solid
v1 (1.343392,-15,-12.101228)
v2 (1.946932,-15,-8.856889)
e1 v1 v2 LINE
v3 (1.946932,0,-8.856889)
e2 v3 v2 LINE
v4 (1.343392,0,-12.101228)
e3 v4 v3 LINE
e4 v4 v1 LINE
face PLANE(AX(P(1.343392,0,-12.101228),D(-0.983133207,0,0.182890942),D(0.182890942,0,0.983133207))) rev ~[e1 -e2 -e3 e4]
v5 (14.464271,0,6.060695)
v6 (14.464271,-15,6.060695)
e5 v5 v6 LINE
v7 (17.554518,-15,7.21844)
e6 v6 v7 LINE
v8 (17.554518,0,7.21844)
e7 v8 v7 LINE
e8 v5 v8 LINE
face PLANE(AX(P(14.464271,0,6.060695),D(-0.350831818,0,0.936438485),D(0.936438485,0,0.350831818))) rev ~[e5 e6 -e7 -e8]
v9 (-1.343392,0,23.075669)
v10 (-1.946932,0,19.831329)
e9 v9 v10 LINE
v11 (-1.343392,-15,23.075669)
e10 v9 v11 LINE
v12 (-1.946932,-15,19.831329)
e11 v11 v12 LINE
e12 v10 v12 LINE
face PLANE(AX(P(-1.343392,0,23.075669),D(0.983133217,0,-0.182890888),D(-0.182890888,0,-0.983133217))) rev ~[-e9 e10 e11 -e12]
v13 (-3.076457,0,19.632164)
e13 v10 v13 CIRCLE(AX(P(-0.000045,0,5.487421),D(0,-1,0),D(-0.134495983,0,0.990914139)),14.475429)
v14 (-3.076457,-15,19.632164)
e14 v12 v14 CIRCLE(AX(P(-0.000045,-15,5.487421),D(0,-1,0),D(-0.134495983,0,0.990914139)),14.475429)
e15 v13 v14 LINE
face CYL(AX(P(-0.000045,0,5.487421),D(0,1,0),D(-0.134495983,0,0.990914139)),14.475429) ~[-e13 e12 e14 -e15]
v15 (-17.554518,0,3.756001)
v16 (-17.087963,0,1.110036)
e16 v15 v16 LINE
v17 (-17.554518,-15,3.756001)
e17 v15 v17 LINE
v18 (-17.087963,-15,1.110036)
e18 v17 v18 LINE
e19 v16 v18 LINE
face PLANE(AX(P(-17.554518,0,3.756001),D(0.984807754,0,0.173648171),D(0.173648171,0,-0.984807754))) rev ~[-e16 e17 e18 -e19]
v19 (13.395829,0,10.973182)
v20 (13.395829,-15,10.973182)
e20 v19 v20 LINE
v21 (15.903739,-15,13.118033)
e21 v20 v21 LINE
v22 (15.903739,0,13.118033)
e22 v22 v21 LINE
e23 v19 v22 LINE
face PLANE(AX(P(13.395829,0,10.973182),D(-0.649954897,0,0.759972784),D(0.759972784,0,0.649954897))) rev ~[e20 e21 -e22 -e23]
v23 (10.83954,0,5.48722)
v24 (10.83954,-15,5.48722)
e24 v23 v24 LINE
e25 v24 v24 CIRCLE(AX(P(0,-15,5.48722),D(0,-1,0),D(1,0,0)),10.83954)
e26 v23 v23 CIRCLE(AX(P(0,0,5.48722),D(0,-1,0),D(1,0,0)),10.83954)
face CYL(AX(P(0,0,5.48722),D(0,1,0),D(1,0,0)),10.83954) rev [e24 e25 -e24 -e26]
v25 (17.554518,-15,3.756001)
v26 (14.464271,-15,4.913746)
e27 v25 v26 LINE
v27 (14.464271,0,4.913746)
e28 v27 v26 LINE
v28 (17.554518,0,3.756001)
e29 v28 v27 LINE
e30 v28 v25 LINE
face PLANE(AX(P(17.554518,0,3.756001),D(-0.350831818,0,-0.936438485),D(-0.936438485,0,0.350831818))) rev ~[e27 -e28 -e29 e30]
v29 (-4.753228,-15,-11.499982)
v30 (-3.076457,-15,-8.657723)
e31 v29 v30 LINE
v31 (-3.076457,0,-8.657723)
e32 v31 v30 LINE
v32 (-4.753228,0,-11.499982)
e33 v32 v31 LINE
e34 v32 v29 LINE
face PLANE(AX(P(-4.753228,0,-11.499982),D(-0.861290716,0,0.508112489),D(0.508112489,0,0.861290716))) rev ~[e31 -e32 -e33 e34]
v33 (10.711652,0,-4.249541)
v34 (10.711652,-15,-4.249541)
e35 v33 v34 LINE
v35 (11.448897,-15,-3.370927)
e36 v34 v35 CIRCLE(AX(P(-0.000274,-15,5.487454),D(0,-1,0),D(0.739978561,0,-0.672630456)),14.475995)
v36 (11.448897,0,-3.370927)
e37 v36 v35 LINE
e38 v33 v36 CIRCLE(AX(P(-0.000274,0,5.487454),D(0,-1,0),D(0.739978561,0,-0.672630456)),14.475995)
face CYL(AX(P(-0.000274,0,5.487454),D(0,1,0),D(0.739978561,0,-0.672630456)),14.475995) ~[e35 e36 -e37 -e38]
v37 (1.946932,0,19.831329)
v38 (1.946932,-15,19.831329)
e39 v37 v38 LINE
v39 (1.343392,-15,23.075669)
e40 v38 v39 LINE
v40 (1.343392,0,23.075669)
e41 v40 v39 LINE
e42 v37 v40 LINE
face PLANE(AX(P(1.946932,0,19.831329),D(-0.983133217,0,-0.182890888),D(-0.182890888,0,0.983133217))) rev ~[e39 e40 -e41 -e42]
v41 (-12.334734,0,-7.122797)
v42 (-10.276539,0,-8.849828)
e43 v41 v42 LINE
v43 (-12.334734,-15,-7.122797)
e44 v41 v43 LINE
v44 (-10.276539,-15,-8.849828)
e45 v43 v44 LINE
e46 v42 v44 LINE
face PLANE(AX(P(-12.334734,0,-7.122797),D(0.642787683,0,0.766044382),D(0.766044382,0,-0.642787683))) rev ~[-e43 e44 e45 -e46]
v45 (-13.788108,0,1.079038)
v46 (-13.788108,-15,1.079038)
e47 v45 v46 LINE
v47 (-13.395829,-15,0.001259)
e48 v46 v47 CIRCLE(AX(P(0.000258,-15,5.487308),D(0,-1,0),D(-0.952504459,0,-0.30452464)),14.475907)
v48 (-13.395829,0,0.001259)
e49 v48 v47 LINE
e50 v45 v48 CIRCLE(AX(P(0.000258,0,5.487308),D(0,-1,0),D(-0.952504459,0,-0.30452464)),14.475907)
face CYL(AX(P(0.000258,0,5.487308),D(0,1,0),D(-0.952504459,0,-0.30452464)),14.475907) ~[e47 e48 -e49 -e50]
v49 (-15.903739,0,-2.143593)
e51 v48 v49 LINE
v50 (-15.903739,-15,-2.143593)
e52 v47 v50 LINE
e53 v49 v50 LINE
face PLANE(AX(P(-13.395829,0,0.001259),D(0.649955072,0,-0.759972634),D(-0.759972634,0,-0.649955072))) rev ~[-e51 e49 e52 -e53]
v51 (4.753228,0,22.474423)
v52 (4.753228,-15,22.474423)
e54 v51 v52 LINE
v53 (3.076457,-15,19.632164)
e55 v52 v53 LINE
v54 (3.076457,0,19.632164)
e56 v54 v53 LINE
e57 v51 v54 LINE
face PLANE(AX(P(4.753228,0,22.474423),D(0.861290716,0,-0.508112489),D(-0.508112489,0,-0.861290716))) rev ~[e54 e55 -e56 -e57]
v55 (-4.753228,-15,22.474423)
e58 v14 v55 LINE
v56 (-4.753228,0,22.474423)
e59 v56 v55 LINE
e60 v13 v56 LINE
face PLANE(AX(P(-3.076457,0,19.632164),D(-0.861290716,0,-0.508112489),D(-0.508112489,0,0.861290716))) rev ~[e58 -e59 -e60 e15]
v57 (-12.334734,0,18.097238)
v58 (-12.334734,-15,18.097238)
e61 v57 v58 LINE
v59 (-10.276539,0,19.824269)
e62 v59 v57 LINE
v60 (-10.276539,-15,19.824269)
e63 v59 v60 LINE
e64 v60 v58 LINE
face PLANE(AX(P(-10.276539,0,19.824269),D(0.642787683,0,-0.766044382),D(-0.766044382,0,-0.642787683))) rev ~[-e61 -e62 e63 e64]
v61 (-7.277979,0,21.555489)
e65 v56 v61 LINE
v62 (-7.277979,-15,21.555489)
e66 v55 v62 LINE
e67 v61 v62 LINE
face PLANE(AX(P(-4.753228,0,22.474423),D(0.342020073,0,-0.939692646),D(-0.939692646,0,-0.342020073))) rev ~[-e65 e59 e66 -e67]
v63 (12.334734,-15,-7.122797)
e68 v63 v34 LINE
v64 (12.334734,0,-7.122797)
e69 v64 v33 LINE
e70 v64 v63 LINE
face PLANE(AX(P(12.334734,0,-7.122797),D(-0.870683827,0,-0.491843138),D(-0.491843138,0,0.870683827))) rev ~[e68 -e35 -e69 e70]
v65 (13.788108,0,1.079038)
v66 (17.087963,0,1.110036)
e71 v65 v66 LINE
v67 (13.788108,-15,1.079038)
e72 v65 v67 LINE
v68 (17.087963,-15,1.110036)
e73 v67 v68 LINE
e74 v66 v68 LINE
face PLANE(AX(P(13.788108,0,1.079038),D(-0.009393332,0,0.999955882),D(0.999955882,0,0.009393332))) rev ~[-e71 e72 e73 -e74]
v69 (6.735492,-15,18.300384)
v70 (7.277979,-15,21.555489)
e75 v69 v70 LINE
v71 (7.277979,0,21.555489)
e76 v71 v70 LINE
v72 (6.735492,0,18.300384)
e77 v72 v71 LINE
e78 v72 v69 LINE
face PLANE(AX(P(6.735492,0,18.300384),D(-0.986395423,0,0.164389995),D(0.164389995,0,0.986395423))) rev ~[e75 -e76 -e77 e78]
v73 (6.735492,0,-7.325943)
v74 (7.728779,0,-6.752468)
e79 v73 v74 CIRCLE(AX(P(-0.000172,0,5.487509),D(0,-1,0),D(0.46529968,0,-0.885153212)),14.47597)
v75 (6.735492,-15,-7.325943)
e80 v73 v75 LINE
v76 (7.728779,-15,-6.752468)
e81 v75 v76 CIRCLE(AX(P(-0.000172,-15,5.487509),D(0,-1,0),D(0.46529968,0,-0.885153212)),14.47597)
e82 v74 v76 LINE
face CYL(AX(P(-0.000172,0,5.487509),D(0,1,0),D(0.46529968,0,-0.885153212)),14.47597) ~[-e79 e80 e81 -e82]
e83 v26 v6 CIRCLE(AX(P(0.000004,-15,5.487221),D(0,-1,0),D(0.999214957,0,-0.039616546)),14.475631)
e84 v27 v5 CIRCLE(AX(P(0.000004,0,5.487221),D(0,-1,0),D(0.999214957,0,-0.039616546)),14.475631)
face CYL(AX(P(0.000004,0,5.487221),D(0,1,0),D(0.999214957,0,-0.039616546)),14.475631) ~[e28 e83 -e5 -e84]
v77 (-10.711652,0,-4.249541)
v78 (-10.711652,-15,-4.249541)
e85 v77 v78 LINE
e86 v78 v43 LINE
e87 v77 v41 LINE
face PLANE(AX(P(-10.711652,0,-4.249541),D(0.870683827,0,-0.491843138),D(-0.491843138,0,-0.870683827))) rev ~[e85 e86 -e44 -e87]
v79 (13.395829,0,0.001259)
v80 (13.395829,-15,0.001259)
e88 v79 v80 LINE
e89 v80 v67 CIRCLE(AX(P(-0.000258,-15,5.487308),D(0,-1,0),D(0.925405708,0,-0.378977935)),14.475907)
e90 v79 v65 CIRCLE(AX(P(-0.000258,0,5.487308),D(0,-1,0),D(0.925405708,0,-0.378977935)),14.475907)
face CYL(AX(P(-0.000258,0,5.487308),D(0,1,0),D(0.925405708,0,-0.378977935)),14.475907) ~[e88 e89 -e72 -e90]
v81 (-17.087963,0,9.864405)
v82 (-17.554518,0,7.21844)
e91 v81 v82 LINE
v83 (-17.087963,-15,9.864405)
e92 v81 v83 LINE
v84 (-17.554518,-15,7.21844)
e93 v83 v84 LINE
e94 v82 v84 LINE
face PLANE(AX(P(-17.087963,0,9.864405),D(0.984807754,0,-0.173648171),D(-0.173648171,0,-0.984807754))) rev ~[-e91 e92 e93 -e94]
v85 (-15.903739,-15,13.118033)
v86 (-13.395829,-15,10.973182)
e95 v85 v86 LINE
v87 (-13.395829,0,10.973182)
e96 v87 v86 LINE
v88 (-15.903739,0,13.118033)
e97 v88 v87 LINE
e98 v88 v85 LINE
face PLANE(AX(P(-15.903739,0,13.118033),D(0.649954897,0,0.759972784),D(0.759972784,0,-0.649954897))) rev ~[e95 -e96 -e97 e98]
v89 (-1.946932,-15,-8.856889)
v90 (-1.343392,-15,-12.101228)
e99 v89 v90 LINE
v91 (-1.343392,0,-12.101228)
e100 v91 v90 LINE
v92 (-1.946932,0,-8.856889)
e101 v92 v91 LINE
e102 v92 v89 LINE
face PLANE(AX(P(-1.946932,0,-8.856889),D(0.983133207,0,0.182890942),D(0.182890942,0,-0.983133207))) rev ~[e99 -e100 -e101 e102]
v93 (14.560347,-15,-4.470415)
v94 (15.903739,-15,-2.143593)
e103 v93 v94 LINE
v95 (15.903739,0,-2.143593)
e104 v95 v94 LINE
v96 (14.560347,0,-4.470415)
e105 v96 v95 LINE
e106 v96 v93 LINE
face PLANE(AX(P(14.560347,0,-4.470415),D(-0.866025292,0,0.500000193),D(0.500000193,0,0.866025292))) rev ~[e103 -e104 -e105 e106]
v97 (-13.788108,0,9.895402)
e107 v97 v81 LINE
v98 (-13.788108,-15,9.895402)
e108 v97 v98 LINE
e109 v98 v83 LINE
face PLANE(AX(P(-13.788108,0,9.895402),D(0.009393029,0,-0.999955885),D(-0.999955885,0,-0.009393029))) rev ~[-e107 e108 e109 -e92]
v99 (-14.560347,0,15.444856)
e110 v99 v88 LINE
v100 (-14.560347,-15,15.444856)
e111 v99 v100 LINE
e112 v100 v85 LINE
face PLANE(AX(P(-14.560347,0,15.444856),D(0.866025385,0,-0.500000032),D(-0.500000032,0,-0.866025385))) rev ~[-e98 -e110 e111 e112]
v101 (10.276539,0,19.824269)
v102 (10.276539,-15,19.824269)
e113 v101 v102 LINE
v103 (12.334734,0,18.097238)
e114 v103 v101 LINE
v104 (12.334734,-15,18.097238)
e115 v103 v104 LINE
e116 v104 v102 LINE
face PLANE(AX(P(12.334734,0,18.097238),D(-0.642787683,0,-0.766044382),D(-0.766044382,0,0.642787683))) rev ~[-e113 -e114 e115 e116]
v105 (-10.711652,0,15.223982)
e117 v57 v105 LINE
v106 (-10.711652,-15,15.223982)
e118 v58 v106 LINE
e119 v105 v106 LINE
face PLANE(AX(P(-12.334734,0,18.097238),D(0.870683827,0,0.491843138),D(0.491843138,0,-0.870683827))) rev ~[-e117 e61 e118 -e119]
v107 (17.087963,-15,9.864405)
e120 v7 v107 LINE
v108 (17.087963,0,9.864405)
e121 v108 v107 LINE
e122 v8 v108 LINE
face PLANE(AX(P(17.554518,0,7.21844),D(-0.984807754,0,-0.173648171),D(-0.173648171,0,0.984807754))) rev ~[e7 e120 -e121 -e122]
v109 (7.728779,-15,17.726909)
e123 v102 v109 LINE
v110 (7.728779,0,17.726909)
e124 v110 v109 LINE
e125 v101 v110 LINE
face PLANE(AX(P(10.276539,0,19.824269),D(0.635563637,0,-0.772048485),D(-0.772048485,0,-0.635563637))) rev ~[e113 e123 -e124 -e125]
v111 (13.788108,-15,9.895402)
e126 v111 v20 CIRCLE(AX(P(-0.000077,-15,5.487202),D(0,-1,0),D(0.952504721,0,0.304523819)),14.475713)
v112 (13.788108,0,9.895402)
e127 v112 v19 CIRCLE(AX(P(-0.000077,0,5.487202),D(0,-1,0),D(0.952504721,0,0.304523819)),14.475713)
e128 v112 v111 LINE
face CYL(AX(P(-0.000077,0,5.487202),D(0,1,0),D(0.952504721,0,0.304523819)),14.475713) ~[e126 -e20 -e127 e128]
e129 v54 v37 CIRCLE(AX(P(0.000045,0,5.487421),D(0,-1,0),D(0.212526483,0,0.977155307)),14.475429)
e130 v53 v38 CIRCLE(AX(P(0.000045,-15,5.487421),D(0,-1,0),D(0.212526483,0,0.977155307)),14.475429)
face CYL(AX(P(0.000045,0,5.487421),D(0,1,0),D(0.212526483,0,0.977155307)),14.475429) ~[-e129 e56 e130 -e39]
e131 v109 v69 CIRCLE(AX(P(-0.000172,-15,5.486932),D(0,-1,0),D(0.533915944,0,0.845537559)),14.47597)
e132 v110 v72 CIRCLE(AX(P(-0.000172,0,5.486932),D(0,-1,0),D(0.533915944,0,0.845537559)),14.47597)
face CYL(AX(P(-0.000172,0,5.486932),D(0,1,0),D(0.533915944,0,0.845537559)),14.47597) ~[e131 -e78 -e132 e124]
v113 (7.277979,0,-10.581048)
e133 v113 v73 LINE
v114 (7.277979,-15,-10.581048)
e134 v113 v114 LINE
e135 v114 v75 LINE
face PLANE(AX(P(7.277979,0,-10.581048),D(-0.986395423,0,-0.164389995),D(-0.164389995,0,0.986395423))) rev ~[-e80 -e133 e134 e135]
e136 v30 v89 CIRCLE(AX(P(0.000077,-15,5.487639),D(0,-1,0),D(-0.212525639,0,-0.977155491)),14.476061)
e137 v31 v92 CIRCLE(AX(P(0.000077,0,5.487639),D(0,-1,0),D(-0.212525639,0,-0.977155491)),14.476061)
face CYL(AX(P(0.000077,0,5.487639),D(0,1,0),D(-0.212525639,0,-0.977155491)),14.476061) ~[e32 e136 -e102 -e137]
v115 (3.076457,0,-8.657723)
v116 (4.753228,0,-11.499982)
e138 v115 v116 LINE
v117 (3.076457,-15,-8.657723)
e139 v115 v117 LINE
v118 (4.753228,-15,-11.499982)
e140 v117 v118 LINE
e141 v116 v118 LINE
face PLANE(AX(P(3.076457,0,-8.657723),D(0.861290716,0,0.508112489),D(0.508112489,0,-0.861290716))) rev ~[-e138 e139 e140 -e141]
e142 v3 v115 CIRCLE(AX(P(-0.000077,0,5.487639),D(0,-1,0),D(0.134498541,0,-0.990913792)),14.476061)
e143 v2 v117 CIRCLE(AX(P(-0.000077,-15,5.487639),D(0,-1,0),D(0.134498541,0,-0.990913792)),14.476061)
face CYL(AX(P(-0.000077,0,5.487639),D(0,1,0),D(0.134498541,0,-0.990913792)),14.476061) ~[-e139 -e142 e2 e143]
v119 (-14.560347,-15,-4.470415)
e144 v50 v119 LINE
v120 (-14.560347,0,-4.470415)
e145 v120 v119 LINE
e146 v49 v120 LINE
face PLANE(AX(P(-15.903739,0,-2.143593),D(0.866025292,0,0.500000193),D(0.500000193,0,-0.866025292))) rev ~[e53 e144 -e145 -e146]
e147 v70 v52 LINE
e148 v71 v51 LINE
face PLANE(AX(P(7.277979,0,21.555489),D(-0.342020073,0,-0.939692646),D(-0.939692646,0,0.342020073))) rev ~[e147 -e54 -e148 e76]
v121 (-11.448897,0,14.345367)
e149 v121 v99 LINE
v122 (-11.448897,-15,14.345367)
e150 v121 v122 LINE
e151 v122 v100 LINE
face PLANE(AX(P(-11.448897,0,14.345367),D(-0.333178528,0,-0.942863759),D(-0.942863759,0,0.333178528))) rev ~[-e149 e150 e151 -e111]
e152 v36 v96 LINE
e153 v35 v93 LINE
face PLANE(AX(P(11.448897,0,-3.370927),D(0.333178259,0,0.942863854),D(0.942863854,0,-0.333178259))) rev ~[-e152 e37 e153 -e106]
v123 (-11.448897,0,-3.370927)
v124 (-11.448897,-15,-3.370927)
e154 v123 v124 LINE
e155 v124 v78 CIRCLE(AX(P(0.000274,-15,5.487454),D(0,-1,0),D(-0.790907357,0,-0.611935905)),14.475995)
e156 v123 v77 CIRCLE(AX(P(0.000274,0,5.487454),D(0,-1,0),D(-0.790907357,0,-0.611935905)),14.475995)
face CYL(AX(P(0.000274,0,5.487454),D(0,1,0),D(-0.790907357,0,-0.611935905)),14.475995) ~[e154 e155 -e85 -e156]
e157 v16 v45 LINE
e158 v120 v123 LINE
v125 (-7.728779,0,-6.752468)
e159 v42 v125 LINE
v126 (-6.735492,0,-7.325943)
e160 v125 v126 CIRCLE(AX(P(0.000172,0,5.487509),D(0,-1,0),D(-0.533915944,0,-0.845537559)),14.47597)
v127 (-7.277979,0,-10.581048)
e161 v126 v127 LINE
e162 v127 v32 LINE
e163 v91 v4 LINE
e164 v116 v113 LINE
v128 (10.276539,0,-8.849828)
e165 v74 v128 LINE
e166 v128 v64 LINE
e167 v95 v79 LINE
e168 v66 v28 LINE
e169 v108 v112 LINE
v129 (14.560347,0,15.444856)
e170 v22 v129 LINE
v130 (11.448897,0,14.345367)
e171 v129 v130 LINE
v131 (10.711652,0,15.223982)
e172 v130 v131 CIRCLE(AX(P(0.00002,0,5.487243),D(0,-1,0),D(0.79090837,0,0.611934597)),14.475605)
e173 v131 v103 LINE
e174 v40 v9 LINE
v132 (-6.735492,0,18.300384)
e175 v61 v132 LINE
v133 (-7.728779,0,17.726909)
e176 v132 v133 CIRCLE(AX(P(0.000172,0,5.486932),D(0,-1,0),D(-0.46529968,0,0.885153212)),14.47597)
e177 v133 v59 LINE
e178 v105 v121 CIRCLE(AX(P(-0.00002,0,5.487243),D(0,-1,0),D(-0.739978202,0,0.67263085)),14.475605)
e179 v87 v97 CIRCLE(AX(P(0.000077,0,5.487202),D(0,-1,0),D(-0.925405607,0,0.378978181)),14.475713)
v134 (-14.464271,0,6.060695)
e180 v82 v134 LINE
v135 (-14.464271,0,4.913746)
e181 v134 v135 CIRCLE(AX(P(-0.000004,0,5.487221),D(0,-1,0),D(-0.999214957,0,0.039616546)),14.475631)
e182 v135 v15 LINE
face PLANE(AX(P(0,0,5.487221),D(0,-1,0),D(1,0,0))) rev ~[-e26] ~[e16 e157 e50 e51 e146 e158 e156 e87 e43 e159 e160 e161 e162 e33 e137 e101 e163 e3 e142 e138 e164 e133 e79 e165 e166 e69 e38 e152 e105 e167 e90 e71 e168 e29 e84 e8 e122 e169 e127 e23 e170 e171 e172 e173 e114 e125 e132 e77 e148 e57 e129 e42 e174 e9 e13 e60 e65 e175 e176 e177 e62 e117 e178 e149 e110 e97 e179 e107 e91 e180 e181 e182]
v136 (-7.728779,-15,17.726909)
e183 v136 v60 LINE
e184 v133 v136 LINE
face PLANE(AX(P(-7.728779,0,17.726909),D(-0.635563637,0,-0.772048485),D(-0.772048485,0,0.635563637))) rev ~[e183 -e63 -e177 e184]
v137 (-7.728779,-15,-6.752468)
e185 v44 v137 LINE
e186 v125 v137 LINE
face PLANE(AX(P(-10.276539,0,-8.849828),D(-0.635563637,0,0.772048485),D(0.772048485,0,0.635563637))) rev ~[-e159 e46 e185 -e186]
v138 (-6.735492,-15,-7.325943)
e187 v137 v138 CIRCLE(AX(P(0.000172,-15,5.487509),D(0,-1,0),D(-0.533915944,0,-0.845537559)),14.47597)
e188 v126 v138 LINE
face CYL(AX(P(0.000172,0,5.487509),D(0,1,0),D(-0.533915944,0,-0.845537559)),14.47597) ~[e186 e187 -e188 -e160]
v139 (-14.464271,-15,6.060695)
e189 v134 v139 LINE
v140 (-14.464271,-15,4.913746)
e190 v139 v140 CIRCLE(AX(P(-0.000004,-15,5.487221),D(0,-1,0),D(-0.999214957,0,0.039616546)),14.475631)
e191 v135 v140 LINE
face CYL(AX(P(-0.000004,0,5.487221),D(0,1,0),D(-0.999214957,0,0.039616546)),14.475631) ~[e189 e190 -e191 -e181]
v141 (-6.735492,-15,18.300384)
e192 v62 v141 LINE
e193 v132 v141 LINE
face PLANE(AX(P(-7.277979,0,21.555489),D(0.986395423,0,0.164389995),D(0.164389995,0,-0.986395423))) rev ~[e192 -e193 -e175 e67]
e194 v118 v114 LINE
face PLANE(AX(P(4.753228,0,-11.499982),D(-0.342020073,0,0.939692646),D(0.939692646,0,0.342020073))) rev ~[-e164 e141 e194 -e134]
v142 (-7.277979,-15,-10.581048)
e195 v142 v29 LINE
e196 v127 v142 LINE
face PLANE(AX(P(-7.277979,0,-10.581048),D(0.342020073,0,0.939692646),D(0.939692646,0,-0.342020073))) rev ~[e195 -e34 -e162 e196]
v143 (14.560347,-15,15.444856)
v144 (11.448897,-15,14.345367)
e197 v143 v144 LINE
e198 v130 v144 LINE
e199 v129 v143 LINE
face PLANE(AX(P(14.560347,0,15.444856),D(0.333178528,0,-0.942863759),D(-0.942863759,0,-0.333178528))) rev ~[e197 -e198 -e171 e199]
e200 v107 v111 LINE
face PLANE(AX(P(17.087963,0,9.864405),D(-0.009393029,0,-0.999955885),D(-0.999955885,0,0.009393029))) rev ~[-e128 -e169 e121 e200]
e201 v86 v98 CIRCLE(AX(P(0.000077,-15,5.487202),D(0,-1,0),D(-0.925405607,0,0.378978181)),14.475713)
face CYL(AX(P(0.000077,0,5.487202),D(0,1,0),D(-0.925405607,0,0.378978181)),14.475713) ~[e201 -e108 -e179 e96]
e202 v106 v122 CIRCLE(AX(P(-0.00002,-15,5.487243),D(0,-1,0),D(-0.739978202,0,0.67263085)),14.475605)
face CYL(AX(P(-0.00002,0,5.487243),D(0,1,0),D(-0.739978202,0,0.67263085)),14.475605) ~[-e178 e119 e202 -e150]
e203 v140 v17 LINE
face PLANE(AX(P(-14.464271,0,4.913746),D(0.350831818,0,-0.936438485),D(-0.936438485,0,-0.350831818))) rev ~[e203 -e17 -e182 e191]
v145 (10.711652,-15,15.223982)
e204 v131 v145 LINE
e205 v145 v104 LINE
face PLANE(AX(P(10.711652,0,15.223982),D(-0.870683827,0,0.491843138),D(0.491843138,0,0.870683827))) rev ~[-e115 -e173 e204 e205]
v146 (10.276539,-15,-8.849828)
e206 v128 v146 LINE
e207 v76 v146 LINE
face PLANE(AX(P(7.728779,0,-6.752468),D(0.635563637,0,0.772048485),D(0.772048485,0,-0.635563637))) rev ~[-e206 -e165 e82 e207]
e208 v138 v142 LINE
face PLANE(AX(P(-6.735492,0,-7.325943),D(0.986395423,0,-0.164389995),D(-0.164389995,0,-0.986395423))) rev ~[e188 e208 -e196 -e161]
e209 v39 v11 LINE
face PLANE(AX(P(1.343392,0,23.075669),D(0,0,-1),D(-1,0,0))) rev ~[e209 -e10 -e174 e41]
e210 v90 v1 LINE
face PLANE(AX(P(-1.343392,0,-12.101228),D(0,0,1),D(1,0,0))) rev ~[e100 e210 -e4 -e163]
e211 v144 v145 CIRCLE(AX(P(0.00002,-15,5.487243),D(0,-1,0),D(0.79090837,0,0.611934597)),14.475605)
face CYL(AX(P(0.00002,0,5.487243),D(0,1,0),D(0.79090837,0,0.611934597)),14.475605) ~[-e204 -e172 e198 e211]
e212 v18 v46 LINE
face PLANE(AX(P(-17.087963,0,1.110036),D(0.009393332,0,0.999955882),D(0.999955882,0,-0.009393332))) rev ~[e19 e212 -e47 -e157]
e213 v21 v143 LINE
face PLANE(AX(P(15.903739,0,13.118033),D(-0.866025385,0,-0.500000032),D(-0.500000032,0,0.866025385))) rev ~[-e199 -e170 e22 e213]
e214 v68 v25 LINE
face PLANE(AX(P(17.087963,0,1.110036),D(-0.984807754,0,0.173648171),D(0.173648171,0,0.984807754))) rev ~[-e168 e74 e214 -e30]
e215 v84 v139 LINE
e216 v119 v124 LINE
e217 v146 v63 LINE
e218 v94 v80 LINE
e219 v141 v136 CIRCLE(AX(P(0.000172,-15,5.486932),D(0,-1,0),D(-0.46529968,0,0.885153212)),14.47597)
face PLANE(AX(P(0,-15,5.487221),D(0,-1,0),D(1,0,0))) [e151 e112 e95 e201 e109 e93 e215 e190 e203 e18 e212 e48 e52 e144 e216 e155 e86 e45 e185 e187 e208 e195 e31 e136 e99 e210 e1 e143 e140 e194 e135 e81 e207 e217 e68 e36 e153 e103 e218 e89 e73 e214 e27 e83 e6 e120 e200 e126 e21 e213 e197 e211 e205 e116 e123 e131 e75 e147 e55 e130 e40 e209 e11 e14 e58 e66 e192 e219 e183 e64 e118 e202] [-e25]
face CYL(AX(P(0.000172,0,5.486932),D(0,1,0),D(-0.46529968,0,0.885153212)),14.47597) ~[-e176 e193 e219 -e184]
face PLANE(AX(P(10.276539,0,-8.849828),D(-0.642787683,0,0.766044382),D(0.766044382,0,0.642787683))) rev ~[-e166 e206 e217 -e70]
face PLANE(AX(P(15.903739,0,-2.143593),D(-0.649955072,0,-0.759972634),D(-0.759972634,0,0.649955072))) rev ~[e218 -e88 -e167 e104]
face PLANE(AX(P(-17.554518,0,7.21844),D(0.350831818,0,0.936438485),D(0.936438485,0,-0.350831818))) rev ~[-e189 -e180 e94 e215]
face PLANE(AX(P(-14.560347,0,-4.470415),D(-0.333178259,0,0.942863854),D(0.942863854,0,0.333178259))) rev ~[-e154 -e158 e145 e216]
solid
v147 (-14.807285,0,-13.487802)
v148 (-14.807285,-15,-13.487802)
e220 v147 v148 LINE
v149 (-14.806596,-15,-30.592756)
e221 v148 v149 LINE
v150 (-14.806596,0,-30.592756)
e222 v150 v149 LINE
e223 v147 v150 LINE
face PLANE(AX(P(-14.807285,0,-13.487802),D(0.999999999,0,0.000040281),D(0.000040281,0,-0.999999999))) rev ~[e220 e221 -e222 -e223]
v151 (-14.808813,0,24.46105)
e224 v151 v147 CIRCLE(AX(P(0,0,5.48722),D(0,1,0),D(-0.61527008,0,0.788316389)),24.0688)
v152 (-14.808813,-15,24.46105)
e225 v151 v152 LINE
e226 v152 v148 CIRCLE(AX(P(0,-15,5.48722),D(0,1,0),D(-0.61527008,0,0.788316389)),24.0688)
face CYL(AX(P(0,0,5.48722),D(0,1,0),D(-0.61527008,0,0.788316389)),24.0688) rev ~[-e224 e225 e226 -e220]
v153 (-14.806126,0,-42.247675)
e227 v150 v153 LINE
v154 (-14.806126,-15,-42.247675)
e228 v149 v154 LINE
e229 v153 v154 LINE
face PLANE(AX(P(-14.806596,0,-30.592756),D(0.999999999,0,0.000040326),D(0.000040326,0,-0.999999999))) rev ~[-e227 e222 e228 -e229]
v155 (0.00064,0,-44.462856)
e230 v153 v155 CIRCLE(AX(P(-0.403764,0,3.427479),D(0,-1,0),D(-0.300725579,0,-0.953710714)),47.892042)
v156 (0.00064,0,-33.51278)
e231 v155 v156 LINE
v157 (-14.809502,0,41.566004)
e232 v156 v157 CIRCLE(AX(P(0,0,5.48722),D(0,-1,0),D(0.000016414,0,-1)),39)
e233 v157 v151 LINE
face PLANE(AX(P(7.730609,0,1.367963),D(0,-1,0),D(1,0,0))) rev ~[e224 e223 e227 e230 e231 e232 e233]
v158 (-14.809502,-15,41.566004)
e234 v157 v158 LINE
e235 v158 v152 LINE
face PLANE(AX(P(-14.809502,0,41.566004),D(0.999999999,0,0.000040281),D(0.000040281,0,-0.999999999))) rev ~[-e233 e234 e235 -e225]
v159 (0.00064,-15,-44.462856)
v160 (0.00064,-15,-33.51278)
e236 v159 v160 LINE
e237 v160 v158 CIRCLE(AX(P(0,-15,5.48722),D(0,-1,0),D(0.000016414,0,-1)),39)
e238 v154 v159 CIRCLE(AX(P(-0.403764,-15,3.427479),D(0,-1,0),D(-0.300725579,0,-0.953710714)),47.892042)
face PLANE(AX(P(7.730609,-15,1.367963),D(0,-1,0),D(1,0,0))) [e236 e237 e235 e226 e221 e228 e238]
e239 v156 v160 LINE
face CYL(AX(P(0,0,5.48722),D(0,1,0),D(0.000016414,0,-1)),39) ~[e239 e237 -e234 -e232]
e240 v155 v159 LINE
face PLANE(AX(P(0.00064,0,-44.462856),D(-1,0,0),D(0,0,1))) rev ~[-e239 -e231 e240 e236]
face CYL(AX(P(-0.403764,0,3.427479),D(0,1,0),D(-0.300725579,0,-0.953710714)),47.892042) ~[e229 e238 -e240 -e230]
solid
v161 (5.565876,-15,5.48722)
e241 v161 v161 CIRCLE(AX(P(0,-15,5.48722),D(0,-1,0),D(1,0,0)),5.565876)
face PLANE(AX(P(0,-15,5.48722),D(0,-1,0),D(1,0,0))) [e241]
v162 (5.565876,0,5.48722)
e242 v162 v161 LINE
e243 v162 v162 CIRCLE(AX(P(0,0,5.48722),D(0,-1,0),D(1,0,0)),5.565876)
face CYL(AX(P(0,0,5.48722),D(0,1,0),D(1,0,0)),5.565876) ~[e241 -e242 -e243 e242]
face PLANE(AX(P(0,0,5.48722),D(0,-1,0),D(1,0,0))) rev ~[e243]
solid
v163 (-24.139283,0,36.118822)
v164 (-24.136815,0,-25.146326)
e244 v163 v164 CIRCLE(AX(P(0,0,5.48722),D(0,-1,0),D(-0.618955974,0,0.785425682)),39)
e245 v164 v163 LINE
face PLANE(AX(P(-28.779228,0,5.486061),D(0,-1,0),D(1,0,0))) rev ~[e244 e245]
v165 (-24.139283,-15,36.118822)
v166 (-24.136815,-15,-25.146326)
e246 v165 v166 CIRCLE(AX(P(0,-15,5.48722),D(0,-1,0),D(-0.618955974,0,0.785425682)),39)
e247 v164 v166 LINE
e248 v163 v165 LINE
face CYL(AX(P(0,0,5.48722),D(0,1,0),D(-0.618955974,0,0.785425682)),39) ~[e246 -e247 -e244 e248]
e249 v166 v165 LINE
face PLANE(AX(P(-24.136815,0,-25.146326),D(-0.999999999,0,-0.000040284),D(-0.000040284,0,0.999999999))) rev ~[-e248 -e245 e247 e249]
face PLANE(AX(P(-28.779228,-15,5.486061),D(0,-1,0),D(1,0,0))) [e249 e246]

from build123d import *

# Parameters (mm, degrees)
F0_R     = 10.83954
F0_R_2   = 5.565876
F1_DEPTH = 15
F2_DEPTH = 15


with BuildPart() as f1:
    # F0 (on Front) → F1 (new body)
    with BuildSketch(Plane.XZ):
        with BuildLine():
            Line((-17.554518, 7.21844), (-14.464271, 6.060695))
            ThreePointArc((-14.464271, 6.060695), (-14.475635, 5.48722), (-14.464271, 4.913746))
            Line((-14.464271, 4.913746), (-17.554518, 3.756001))
            Line((-17.554518, 3.756001), (-17.087963, 1.110036))
            Line((-17.087963, 1.110036), (-13.788108, 1.079038))
            ThreePointArc((-13.788108, 1.079038), (-13.602647, 0.536262), (-13.395829, 0.001259))
            Line((-13.395829, 0.001259), (-15.903739, -2.143593))
            Line((-15.903739, -2.143593), (-14.560347, -4.470415))
            Line((-14.560347, -4.470415), (-11.448897, -3.370927))
            ThreePointArc((-11.448897, -3.370927), (-11.08898, -3.817538), (-10.711652, -4.249541))
            Line((-10.711652, -4.249541), (-12.334734, -7.122797))
            Line((-12.334734, -7.122797), (-10.276539, -8.849828))
            Line((-10.276539, -8.849828), (-7.728779, -6.752468))
            ThreePointArc((-7.728779, -6.752468), (-7.237817, -7.049047), (-6.735492, -7.325943))
            Line((-6.735492, -7.325943), (-7.277979, -10.581048))
            Line((-7.277979, -10.581048), (-4.753228, -11.499982))
            Line((-4.753228, -11.499982), (-3.076457, -8.657723))
            ThreePointArc((-3.076457, -8.657723), (-2.513668, -8.768497), (-1.946932, -8.856889))
            Line((-1.946932, -8.856889), (-1.343392, -12.101228))
            Line((-1.343392, -12.101228), (1.343392, -12.101228))
            Line((1.343392, -12.101228), (1.946932, -8.856889))
            ThreePointArc((1.946932, -8.856889), (2.513668, -8.768497), (3.076457, -8.657723))
            Line((3.076457, -8.657723), (4.753228, -11.499982))
            Line((4.753228, -11.499982), (7.277979, -10.581048))
            Line((7.277979, -10.581048), (6.735492, -7.325943))
            ThreePointArc((6.735492, -7.325943), (7.237817, -7.049047), (7.728779, -6.752468))
            Line((7.728779, -6.752468), (10.276539, -8.849828))
            Line((10.276539, -8.849828), (12.334734, -7.122797))
            Line((12.334734, -7.122797), (10.711652, -4.249541))
            ThreePointArc((10.711652, -4.249541), (11.08898, -3.817538), (11.448897, -3.370927))
            Line((11.448897, -3.370927), (14.560347, -4.470415))
            Line((14.560347, -4.470415), (15.903739, -2.143593))
            Line((15.903739, -2.143593), (13.395829, 0.001259))
            ThreePointArc((13.395829, 0.001259), (13.602647, 0.536262), (13.788108, 1.079038))
            Line((13.788108, 1.079038), (17.087963, 1.110036))
            Line((17.087963, 1.110036), (17.554518, 3.756001))
            Line((17.554518, 3.756001), (14.464271, 4.913746))
            ThreePointArc((14.464271, 4.913746), (14.475635, 5.48722), (14.464271, 6.060695))
            Line((14.464271, 6.060695), (17.554518, 7.21844))
            Line((17.554518, 7.21844), (17.087963, 9.864405))
            Line((17.087963, 9.864405), (13.788108, 9.895402))
            ThreePointArc((13.788108, 9.895402), (13.602647, 10.438179), (13.395829, 10.973182))
            Line((13.395829, 10.973182), (15.903739, 13.118033))
            Line((15.903739, 13.118033), (14.560347, 15.444856))
            Line((14.560347, 15.444856), (11.448897, 14.345367))
            ThreePointArc((11.448897, 14.345367), (11.08898, 14.791979), (10.711652, 15.223982))
            Line((10.711652, 15.223982), (12.334734, 18.097238))
            Line((12.334734, 18.097238), (10.276539, 19.824269))
            Line((10.276539, 19.824269), (7.728779, 17.726909))
            ThreePointArc((7.728779, 17.726909), (7.237817, 18.023488), (6.735492, 18.300384))
            Line((6.735492, 18.300384), (7.277979, 21.555489))
            Line((7.277979, 21.555489), (4.753228, 22.474423))
            Line((4.753228, 22.474423), (3.076457, 19.632164))
            ThreePointArc((3.076457, 19.632164), (2.513668, 19.742938), (1.946932, 19.831329))
            Line((1.946932, 19.831329), (1.343392, 23.075669))
            Line((1.343392, 23.075669), (-1.343392, 23.075669))
            Line((-1.343392, 23.075669), (-1.946932, 19.831329))
            ThreePointArc((-1.946932, 19.831329), (-2.513668, 19.742938), (-3.076457, 19.632164))
            Line((-3.076457, 19.632164), (-4.753228, 22.474423))
            Line((-4.753228, 22.474423), (-7.277979, 21.555489))
            Line((-7.277979, 21.555489), (-6.735492, 18.300384))
            ThreePointArc((-6.735492, 18.300384), (-7.237817, 18.023488), (-7.728779, 17.726909))
            Line((-7.728779, 17.726909), (-10.276539, 19.824269))
            Line((-10.276539, 19.824269), (-12.334734, 18.097238))
            Line((-12.334734, 18.097238), (-10.711652, 15.223982))
            ThreePointArc((-10.711652, 15.223982), (-11.08898, 14.791979), (-11.448897, 14.345367))
            Line((-11.448897, 14.345367), (-14.560347, 15.444856))
            Line((-14.560347, 15.444856), (-15.903739, 13.118033))
            Line((-15.903739, 13.118033), (-13.395829, 10.973182))
            ThreePointArc((-13.395829, 10.973182), (-13.602647, 10.438179), (-13.788108, 9.895402))
            Line((-13.788108, 9.895402), (-17.087963, 9.864405))
            Line((-17.087963, 9.864405), (-17.554518, 7.21844))
        make_face()
        with Locations((0, 5.48722)):
            Circle(F0_R, mode=Mode.SUBTRACT)
        with Locations((0, 5.48722)):
            Circle(F0_R_2)
    extrude(amount=F1_DEPTH)


with BuildPart() as f2:
    # F0 (on Front) → F2 (new body)
    with BuildSketch(Plane.XZ):
        with BuildLine():
            ThreePointArc((-14.808813, 24.46105), (24.0688, 5.48819), (-14.807285, -13.487802))
            Line((-14.807285, -13.487802), (-14.806596, -30.592756))
            Line((-14.806596, -30.592756), (-14.806126, -42.247675))
            ThreePointArc((-14.806126, -42.247675), (-7.489839, -43.937437), (0.00064, -44.462856))
            Line((0.00064, -44.462856), (0.00064, -33.51278))
            ThreePointArc((0.00064, -33.51278), (38.262665, 13.034965), (-14.809502, 41.566004))
            Line((-14.809502, 41.566004), (-14.808813, 24.46105))
        make_face()
        with BuildLine():
            Line((-24.136815, -25.146326), (-24.139283, 36.118822))
            ThreePointArc((-24.139283, 36.118822), (-39, 5.485649), (-24.136815, -25.146326))
        make_face()
    extrude(amount=F2_DEPTH)


solid = Compound([f1.part, f2.part])
